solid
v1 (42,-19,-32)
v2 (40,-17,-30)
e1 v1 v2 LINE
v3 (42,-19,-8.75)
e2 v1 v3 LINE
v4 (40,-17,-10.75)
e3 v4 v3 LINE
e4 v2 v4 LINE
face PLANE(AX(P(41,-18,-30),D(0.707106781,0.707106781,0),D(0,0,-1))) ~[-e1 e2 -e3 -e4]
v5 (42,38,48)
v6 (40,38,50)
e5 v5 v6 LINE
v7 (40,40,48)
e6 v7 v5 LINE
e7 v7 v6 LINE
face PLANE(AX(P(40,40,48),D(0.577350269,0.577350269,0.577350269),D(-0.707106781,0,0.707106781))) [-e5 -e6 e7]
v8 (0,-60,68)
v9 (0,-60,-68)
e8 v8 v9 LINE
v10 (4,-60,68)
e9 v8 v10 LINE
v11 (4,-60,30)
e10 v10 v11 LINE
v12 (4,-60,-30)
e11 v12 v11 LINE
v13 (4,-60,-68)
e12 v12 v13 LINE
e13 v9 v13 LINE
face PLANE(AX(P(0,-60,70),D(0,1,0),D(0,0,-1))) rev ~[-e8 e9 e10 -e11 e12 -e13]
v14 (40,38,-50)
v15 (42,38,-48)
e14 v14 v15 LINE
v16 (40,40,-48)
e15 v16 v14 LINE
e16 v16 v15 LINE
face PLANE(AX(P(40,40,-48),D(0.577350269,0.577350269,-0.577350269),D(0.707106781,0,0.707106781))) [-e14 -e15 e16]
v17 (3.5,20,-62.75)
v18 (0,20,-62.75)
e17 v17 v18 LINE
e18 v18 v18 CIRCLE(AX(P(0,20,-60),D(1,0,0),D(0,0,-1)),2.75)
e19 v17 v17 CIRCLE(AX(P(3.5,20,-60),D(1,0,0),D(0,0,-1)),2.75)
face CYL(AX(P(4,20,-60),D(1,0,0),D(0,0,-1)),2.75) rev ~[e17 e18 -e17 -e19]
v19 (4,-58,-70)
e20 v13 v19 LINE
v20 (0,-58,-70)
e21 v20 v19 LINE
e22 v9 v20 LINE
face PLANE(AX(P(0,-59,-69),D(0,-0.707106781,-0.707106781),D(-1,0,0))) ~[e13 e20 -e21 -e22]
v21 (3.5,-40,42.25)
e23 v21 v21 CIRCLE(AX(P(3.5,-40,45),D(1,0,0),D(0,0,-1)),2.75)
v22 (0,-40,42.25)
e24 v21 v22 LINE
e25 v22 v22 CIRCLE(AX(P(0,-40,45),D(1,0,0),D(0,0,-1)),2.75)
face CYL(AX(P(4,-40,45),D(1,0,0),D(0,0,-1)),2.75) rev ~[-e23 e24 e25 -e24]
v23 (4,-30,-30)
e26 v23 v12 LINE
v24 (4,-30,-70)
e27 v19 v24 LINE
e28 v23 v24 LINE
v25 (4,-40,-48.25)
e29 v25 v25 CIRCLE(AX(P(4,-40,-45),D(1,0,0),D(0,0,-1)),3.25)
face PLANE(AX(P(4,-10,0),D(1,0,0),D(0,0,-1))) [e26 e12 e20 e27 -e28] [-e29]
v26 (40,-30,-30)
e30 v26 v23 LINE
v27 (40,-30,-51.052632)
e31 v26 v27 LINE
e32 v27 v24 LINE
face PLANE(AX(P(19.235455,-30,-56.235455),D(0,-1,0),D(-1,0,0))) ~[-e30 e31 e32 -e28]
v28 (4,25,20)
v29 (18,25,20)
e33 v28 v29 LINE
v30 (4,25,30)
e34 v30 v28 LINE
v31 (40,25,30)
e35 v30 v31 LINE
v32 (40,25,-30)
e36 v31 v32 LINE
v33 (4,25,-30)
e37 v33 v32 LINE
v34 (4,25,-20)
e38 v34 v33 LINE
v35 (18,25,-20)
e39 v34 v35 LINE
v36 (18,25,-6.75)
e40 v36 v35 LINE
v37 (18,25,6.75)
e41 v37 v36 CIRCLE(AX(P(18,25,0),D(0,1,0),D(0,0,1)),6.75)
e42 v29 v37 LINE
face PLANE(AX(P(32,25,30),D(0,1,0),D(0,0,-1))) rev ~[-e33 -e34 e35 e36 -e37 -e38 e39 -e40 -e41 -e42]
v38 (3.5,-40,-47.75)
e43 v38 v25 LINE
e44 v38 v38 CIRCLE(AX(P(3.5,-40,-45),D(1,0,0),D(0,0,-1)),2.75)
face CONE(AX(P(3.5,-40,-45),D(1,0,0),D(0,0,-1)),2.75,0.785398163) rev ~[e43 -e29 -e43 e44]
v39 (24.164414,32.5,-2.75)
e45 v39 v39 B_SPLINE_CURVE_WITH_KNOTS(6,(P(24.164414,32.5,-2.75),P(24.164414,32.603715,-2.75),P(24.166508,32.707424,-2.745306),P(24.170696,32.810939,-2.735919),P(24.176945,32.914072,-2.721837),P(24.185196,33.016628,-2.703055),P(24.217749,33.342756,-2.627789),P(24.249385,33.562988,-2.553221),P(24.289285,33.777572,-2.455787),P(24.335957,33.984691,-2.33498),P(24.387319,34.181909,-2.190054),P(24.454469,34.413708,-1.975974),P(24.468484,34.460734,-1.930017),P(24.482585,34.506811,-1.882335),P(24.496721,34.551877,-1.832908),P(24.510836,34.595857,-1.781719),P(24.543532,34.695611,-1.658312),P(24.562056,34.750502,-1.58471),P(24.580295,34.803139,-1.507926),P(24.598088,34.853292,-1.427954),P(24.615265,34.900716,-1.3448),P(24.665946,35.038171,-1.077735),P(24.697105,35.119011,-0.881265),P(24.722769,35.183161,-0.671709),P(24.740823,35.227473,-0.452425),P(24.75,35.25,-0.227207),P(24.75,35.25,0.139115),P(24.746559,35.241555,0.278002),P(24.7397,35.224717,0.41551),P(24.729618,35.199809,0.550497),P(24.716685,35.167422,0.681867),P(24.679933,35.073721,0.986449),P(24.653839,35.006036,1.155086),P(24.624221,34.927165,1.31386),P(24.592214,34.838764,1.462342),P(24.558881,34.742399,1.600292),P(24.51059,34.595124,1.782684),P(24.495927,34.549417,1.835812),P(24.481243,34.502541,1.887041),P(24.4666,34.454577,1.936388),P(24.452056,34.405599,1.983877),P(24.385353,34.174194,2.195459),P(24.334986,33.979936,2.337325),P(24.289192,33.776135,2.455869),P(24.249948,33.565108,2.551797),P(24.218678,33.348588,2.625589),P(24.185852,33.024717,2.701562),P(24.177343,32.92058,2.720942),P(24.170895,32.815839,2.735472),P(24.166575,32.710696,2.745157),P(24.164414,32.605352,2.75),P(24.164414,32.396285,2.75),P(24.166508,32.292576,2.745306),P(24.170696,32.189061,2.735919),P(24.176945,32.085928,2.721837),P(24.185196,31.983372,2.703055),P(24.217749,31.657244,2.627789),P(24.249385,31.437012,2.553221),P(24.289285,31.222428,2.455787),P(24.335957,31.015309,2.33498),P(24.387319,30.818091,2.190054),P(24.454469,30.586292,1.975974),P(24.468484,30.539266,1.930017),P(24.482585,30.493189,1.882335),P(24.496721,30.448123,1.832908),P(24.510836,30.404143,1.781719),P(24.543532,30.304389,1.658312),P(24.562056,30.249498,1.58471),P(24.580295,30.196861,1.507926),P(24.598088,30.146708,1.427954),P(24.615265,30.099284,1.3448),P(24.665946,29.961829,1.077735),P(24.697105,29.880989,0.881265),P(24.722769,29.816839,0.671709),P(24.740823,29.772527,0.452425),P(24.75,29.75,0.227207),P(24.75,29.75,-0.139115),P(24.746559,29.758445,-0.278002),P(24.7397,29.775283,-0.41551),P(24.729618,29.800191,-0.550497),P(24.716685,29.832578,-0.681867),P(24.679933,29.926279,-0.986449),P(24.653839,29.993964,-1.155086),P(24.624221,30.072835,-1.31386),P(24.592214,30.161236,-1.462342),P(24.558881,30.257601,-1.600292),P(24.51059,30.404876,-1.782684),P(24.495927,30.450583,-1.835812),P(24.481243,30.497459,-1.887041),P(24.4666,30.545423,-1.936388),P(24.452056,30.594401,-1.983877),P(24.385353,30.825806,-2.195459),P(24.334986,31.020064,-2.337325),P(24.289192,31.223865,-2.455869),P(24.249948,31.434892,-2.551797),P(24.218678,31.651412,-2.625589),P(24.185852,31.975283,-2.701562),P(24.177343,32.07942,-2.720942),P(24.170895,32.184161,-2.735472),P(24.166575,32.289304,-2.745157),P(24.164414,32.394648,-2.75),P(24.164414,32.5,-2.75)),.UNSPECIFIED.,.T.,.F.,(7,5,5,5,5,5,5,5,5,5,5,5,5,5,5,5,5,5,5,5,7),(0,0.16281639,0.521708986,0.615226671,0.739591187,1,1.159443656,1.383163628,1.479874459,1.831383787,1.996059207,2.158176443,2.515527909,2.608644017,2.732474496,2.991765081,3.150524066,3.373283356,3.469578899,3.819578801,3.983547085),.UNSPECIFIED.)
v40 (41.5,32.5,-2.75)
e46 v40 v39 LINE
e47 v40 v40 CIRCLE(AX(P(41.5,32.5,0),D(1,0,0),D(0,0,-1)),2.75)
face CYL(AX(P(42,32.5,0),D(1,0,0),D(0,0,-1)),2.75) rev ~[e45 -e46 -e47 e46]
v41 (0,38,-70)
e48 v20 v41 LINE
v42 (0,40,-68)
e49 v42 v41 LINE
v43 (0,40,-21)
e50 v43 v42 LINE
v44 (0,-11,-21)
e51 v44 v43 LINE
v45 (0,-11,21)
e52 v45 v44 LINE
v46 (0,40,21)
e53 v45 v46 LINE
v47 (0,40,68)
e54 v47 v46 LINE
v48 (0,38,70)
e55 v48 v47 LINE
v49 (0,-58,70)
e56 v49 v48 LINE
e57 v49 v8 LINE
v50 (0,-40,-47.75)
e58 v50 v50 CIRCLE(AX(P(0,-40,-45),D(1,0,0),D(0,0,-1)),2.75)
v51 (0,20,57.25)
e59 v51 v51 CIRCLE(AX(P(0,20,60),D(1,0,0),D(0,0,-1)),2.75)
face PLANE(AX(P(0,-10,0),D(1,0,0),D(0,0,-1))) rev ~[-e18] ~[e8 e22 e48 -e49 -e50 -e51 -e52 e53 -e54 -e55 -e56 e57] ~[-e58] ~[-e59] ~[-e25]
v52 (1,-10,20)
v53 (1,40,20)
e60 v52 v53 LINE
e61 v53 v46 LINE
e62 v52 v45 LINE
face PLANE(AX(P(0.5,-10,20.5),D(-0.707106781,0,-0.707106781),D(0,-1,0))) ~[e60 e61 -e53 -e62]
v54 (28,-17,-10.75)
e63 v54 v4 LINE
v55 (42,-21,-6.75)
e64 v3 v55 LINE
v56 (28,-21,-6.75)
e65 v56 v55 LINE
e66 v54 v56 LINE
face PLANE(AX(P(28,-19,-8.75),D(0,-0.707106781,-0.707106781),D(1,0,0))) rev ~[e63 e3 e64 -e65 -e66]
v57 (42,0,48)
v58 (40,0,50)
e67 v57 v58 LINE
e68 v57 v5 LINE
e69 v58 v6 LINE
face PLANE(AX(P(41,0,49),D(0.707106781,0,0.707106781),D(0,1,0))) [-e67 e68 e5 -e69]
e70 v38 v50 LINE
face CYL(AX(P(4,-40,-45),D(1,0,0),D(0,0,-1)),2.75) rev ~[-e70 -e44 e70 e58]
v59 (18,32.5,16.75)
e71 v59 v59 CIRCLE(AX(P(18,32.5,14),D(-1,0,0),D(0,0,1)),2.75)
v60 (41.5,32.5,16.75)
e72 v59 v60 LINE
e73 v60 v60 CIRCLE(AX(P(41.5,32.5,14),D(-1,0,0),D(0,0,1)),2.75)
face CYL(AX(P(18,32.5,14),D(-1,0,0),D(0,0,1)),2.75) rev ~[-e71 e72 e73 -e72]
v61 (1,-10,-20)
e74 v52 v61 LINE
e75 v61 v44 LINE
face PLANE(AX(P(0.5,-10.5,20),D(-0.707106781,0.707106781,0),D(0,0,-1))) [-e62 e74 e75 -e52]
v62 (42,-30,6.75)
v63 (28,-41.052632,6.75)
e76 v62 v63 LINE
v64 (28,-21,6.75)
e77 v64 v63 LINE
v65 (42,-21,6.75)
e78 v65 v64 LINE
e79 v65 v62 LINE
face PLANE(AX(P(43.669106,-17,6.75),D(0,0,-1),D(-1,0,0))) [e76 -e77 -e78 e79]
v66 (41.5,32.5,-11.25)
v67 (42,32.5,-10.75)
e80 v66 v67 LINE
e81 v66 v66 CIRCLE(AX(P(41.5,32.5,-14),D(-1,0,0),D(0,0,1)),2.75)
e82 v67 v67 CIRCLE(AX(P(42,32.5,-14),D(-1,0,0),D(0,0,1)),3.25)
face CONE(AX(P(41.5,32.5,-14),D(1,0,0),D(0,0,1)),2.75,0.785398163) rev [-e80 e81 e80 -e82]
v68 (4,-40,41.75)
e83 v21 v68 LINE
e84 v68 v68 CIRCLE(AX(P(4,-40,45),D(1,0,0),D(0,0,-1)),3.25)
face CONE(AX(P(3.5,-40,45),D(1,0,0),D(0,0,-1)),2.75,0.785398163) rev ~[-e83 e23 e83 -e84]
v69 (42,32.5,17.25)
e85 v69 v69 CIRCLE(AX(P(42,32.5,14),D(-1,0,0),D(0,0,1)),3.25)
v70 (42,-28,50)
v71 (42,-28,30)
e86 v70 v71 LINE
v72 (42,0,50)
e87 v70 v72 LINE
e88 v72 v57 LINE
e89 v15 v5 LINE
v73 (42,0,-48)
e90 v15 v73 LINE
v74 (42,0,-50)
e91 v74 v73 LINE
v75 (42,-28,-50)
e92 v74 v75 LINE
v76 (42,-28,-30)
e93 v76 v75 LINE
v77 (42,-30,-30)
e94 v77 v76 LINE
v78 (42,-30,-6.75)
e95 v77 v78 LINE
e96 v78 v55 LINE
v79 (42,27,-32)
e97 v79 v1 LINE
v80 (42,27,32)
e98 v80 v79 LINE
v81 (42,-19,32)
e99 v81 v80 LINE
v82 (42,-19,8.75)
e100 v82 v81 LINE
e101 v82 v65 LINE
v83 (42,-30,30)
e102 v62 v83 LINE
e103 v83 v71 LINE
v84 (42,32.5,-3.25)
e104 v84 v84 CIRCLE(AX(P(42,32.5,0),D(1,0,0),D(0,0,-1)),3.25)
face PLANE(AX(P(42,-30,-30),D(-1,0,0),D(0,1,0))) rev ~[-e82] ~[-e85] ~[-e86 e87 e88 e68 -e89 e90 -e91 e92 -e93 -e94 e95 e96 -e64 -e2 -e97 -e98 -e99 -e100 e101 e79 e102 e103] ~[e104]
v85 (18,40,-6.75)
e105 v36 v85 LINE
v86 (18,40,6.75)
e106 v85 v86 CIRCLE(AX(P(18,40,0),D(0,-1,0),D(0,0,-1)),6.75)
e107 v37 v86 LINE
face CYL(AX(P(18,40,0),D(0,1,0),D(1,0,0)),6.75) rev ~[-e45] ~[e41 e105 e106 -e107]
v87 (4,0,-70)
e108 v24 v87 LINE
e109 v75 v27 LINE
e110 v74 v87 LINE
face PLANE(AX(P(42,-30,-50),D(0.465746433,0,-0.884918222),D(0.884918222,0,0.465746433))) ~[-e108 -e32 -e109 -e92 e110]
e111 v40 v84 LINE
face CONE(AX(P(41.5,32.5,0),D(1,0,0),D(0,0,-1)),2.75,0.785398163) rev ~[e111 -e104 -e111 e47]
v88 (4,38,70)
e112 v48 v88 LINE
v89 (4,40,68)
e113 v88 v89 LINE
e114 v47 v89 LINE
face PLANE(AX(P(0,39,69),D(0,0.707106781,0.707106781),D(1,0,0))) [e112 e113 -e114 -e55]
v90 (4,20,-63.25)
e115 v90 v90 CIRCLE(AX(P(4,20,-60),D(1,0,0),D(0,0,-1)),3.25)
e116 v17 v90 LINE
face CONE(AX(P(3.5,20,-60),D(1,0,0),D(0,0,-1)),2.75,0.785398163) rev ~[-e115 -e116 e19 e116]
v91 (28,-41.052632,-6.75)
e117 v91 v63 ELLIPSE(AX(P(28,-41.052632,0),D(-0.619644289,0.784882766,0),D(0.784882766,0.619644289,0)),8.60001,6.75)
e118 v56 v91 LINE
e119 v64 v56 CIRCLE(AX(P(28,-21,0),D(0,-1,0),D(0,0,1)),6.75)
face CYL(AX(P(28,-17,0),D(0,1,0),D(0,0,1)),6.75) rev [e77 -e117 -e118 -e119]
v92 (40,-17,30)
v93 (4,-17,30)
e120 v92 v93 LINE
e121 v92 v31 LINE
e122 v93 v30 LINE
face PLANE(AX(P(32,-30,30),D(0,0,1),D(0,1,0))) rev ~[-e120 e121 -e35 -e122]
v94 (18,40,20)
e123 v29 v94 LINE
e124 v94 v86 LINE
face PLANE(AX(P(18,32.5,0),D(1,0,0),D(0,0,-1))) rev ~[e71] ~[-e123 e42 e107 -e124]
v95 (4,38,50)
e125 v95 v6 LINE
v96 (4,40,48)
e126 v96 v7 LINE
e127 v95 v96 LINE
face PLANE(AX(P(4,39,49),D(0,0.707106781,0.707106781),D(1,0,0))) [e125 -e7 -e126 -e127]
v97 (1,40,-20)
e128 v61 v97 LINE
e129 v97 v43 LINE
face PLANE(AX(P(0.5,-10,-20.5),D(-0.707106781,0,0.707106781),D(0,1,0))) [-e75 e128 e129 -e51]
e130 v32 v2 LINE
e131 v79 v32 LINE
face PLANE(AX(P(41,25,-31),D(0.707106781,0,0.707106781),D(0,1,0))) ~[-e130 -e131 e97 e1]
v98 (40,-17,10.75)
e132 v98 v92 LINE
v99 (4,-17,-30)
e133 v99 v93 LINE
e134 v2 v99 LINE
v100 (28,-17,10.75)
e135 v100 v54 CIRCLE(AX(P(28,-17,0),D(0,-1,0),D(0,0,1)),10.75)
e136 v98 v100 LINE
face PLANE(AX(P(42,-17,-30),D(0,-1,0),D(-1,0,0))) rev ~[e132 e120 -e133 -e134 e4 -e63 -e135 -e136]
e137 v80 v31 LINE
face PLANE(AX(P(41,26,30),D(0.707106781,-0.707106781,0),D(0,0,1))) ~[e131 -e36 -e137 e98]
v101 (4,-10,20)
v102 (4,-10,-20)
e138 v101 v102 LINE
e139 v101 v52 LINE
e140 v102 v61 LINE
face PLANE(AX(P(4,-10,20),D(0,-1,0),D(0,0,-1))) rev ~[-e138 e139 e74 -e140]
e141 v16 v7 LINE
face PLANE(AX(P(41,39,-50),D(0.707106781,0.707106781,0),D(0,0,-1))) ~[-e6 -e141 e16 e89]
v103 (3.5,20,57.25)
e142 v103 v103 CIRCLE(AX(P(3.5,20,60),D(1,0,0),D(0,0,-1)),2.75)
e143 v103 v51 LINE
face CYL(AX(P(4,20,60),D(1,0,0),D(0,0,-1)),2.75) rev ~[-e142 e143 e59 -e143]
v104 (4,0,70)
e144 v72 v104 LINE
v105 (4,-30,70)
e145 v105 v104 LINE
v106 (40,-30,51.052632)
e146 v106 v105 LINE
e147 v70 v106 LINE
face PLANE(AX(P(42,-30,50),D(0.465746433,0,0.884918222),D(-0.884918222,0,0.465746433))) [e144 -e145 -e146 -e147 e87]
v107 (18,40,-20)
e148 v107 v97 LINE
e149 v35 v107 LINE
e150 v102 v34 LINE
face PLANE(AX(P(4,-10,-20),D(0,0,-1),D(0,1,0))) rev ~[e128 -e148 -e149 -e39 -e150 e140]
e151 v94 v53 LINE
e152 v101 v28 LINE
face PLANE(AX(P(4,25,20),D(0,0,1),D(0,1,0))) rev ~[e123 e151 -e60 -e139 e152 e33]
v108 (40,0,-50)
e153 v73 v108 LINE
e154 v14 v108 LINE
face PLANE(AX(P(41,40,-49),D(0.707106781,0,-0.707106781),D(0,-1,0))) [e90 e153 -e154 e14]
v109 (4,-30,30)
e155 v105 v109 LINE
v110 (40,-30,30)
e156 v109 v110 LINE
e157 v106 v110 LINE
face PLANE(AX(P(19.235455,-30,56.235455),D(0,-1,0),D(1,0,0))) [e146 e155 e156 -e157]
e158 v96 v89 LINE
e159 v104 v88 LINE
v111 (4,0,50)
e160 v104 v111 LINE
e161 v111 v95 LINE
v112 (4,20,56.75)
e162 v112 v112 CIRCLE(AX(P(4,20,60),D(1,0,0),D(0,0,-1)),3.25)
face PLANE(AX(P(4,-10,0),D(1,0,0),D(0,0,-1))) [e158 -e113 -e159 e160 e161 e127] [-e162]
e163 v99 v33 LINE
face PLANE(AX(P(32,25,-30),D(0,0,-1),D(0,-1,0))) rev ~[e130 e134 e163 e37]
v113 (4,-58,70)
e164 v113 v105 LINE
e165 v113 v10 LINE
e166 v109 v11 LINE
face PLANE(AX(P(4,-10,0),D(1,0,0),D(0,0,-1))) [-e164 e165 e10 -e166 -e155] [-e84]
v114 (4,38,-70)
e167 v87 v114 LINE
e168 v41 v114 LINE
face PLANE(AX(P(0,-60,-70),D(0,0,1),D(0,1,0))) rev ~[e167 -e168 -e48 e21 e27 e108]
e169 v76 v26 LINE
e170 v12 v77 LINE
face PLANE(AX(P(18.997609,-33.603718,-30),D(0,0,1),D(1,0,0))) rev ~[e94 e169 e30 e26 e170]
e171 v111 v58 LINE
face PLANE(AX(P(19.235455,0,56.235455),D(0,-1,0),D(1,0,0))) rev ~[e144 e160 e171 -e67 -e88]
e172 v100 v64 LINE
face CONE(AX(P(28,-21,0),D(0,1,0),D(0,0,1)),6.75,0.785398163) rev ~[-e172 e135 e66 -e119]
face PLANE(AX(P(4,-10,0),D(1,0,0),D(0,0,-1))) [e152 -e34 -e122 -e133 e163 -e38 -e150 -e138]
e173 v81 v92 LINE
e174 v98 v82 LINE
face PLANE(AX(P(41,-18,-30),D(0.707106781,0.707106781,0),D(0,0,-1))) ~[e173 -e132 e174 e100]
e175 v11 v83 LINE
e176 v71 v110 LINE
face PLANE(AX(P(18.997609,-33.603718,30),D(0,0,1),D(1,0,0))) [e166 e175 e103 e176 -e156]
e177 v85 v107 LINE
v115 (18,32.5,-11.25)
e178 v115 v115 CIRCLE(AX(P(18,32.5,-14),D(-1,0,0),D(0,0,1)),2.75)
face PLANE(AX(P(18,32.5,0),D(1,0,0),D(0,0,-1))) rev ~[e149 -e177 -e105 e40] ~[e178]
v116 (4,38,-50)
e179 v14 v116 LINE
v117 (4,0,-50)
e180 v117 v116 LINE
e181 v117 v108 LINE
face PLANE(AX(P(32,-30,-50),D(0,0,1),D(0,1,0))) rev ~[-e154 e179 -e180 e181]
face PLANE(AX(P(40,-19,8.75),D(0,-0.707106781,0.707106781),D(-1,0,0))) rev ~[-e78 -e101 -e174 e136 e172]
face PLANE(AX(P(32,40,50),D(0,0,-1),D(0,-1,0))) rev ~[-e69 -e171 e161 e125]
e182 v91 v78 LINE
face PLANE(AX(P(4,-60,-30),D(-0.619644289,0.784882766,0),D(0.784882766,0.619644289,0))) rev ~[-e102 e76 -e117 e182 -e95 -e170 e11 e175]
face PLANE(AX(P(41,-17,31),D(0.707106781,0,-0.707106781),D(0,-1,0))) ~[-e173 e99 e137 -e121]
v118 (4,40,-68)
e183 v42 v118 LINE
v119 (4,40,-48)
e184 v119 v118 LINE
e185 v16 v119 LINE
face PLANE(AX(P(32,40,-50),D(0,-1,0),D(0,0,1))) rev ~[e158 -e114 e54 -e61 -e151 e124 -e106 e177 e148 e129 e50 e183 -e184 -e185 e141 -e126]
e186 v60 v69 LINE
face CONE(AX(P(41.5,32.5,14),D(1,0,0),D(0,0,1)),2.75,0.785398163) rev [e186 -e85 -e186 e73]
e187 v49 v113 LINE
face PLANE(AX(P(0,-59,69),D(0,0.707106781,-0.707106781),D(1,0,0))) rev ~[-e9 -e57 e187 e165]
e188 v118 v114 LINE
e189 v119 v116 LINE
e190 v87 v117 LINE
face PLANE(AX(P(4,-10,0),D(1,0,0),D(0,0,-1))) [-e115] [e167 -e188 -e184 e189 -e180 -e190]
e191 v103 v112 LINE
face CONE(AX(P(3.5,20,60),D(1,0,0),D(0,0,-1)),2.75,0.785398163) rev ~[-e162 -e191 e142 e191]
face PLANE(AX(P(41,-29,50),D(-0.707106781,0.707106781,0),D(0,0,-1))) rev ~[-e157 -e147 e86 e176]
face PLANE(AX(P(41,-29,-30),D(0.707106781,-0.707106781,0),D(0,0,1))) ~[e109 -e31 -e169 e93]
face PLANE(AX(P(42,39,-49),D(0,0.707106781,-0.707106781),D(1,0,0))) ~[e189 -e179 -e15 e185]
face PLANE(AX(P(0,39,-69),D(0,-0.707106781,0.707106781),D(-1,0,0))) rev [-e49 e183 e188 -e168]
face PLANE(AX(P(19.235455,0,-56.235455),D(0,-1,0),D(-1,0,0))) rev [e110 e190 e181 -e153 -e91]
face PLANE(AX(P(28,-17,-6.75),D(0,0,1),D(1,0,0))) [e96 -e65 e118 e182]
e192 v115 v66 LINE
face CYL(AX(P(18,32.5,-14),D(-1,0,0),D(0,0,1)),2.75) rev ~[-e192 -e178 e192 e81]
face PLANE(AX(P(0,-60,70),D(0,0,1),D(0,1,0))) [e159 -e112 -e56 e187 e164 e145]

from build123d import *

# Parameters (mm, degrees)
SKETCH_1_W          = 140
SKETCH_1_H          = 100
EXTRUDE_1_DEPTH     = 4
SKETCH_9_R          = 2.75
CUT_EXTRUDE_3_DEPTH = 8
CHAMFER_2_SIZE      = 2
SKETCH_11_W         = 40
SKETCH_11_H         = 50
CUT_EXTRUDE_5_DEPTH = 5
SKETCH_12_W         = 10
SKETCH_12_H         = 15
EXTRUDE_2_DEPTH     = 14
SKETCH_13_W         = 60
SKETCH_13_H         = 15
EXTRUDE_3_DEPTH     = 14
SKETCH_14_W         = 28
SKETCH_14_H         = 70
EXTRUDE_4_DEPTH     = 20
SKETCH_15_W         = 28
SKETCH_15_H         = 70
EXTRUDE_5_DEPTH     = 20
SKETCH_16_R         = 6.75
CUT_EXTRUDE_6_DEPTH = 20
EXTRUDE_6_DEPTH     = 10
SKETCH_18_R         = 2.75
CUT_EXTRUDE_7_DEPTH = 96.268042911
SKETCH_19_R         = 2.75
CUT_EXTRUDE_8_DEPTH = 100
CHAMFER_3_SIZE      = 0.5
EXTRUDE_7_DEPTH     = 20
EXTRUDE_8_DEPTH     = 20
EXTRUDE_9_DEPTH     = 60
EXTRUDE_10_DEPTH    = 30
CHAMFER_4_SIZE      = 0.5
CHAMFER_5_SIZE      = 2
CHAMFER_6_SIZE      = 2
CHAMFER_7_SIZE      = 1
CUT_EXTRUDE_9_DEPTH = 100.564049794
CHAMFER_8_SIZE      = 4


with BuildPart() as part:
    # 草图1 → 凸台-拉伸1 (new body)
    with BuildSketch(Plane(origin=(0, 0, 0), x_dir=(0, 0, -1), z_dir=(1, 0, 0))):
        with Locations((0, -10)):
            Rectangle(SKETCH_1_W, SKETCH_1_H)
    extrude(amount=EXTRUDE_1_DEPTH)

    # 草图9 → 切除-拉伸3 (cut)
    with BuildSketch(Plane(origin=(4, 0, 0), x_dir=(0, 0, -1), z_dir=(1, 0, 0))):
        with Locations((-60, 20)):
            Circle(SKETCH_9_R)
        with Locations((60, 20)):
            Circle(SKETCH_9_R)
        with Locations((-45, -40)):
            Circle(SKETCH_9_R)
        with Locations((45, -40)):
            Circle(SKETCH_9_R)
    extrude(amount=-CUT_EXTRUDE_3_DEPTH, mode=Mode.SUBTRACT)

    # 倒角2
    chamfer_2_edges = [part.edges().sort_by_distance(p)[0] for p in [
        (2, 40, 70),
        (2, 40, -70),
        (2, -60, -70),
        (2, -60, 70),
    ]]
    chamfer(chamfer_2_edges, length=CHAMFER_2_SIZE)

    # 草图11 → 切除-拉伸5 (cut)
    with BuildSketch(Plane(origin=(4, 0, 0), x_dir=(0, 0, -1), z_dir=(1, 0, 0))):
        with Locations((0, 15)):
            Rectangle(SKETCH_11_W, SKETCH_11_H)
    extrude(amount=-CUT_EXTRUDE_5_DEPTH, mode=Mode.SUBTRACT)

    # 草图12 → 凸台-拉伸2 (add)
    with BuildSketch(Plane(origin=(4, 0, 0), x_dir=(0, 0, -1), z_dir=(1, 0, 0))):
        with Locations((-25, 32.5)):
            Rectangle(SKETCH_12_W, SKETCH_12_H)
        with Locations((25, 32.5)):
            Rectangle(SKETCH_12_W, SKETCH_12_H)
    extrude(amount=EXTRUDE_2_DEPTH)

    # 草图13 → 凸台-拉伸3 (add)
    with BuildSketch(Plane(origin=(18, 0, 0), x_dir=(0, 0, -1), z_dir=(1, 0, 0))):
        with Locations((0, 32.5)):
            Rectangle(SKETCH_13_W, SKETCH_13_H)
    extrude(amount=EXTRUDE_3_DEPTH)

    # 草图14 → 凸台-拉伸4 (add)
    with BuildSketch(Plane.XY.offset(30)):
        with Locations((18, 5)):
            Rectangle(SKETCH_14_W, SKETCH_14_H)
    extrude(amount=EXTRUDE_4_DEPTH)

    # 草图15 → 凸台-拉伸5 (add)
    with BuildSketch(Plane(origin=(0, 0, -30), x_dir=(-1, 0, 0), z_dir=(0, 0, -1))):
        with Locations((-18, 5)):
            Rectangle(SKETCH_15_W, SKETCH_15_H)
    extrude(amount=EXTRUDE_5_DEPTH)

    # 草图16 → 切除-拉伸6 (cut)
    with BuildSketch(Plane(origin=(0, 40, 0), x_dir=(1, 0, 0), z_dir=(0, 1, 0))):
        with Locations((18, 0)):
            Circle(SKETCH_16_R)
    extrude(amount=-CUT_EXTRUDE_6_DEPTH, mode=Mode.SUBTRACT)

    # 草图17 → 凸台-拉伸6 (add)
    with BuildSketch(Plane(origin=(32, 0, 0), x_dir=(0, 0, -1), z_dir=(1, 0, 0))):
        Polygon((50, 40), (-50, 40), (-50, -30), (-30, -30), (-30, 25), (30, 25), (30, -30), (50, -30), align=None)
    extrude(amount=EXTRUDE_6_DEPTH)

    # 草图18 → 切除-拉伸7 (cut, through all)
    with BuildSketch(Plane.ZY.offset(-18)):
        with Locations((14, 32.5)):
            Circle(SKETCH_18_R)
        with Locations((-14, 32.5)):
            Circle(SKETCH_18_R)
    extrude(amount=-CUT_EXTRUDE_7_DEPTH, mode=Mode.SUBTRACT)

    # 草图19 → 切除-拉伸8 (cut)
    with BuildSketch(Plane(origin=(42, 0, 0), x_dir=(0, 0, -1), z_dir=(1, 0, 0))):
        with Locations((0, 32.5)):
            Circle(SKETCH_19_R)
    extrude(amount=-CUT_EXTRUDE_8_DEPTH, mode=Mode.SUBTRACT)

    # 倒角3
    chamfer_3_edges = [part.edges().sort_by_distance(p)[0] for p in [
        (4, 20, 62.75),
        (4, -40, -42.25),
        (4, -40, 47.75),
        (4, 20, -57.25),
    ]]
    chamfer(chamfer_3_edges, length=CHAMFER_3_SIZE)

    # 草图20 → 凸台-拉伸7 (add)
    with BuildSketch(Plane.XY.offset(50)):
        Polygon((42, 25), (4, -30), (32, 25), align=None)
    extrude(amount=-EXTRUDE_7_DEPTH)

    # 草图21 → 凸台-拉伸8 (add)
    with BuildSketch(Plane(origin=(0, 0, -50), x_dir=(-1, 0, 0), z_dir=(0, 0, -1))):
        Polygon((-42, 25), (-4, -30), (-32, 25), align=None)
    extrude(amount=-EXTRUDE_8_DEPTH)

    # 草图22 → 凸台-拉伸9 (add)
    with BuildSketch(Plane.XY.offset(-30)):
        Polygon((42, -17), (4, -17), (4, -60), (42, -30), align=None)
    extrude(amount=EXTRUDE_9_DEPTH)

    # 草图23 → 凸台-拉伸10 (add)
    with BuildSketch(Plane.XZ.offset(30)):
        Polygon((42, 50), (4, 70), (4, 50), align=None)
    extrude_10 = extrude(amount=-EXTRUDE_10_DEPTH)

    # 镜向1: 凸台-拉伸10 across plane
    add(extrude_10.mirror(Plane.XY))

    # 倒角4
    chamfer_4_edges = [part.edges().sort_by_distance(p)[0] for p in [
        (42, 32.5, 11.25),
        (42, 32.5, -16.75),
        (42, 32.5, 2.75),
    ]]
    chamfer(chamfer_4_edges, length=CHAMFER_4_SIZE)

    # 倒角5
    chamfer_5_edges = [part.edges().sort_by_distance(p)[0] for p in [
        (42, 25, 0),
        (42, 4, -30),
        (42, 4, 30),
        (42, -17, 0),
    ]]
    chamfer(chamfer_5_edges, length=CHAMFER_5_SIZE)

    # 倒角6
    chamfer_6_edges = [part.edges().sort_by_distance(p)[0] for p in [
        (42, -30, 40),
        (42, -30, -40),
        (42, 20, 50),
        (42, 20, -50),
        (23, 40, -50),
        (42, 40, 0),
        (23, 40, 50),
    ]]
    chamfer(chamfer_6_edges, length=CHAMFER_6_SIZE)

    # 倒角7
    chamfer_7_edges = [part.edges().sort_by_distance(p)[0] for p in [
        (0, -10, 0),
        (0, 15, -20),
        (0, 15, 20),
    ]]
    chamfer(chamfer_7_edges, length=CHAMFER_7_SIZE)

    # 草图24 → 切除-拉伸9 (cut, through all)
    with BuildSketch(Plane(origin=(0, -17, 0), x_dir=(1, 0, 0), z_dir=(0, 1, 0))):
        with BuildLine():
            Line((28, 6.75), (43.669106449, 6.75))
            Line((43.669106449, 6.75), (43.669106449, -6.75))
            Line((43.669106449, -6.75), (28, -6.75))
            ThreePointArc((28, -6.75), (21.25, 0), (28, 6.75))
        make_face()
    extrude(amount=-CUT_EXTRUDE_9_DEPTH, mode=Mode.SUBTRACT)

    # 倒角8
    chamfer_8_edges = [part.edges().sort_by_distance(p)[0] for p in [
        (34, -17, -6.75),
        (34, -17, 6.75),
        (21.25, -17, 0),
    ]]
    chamfer(chamfer_8_edges, length=CHAMFER_8_SIZE)


solid = part.part
